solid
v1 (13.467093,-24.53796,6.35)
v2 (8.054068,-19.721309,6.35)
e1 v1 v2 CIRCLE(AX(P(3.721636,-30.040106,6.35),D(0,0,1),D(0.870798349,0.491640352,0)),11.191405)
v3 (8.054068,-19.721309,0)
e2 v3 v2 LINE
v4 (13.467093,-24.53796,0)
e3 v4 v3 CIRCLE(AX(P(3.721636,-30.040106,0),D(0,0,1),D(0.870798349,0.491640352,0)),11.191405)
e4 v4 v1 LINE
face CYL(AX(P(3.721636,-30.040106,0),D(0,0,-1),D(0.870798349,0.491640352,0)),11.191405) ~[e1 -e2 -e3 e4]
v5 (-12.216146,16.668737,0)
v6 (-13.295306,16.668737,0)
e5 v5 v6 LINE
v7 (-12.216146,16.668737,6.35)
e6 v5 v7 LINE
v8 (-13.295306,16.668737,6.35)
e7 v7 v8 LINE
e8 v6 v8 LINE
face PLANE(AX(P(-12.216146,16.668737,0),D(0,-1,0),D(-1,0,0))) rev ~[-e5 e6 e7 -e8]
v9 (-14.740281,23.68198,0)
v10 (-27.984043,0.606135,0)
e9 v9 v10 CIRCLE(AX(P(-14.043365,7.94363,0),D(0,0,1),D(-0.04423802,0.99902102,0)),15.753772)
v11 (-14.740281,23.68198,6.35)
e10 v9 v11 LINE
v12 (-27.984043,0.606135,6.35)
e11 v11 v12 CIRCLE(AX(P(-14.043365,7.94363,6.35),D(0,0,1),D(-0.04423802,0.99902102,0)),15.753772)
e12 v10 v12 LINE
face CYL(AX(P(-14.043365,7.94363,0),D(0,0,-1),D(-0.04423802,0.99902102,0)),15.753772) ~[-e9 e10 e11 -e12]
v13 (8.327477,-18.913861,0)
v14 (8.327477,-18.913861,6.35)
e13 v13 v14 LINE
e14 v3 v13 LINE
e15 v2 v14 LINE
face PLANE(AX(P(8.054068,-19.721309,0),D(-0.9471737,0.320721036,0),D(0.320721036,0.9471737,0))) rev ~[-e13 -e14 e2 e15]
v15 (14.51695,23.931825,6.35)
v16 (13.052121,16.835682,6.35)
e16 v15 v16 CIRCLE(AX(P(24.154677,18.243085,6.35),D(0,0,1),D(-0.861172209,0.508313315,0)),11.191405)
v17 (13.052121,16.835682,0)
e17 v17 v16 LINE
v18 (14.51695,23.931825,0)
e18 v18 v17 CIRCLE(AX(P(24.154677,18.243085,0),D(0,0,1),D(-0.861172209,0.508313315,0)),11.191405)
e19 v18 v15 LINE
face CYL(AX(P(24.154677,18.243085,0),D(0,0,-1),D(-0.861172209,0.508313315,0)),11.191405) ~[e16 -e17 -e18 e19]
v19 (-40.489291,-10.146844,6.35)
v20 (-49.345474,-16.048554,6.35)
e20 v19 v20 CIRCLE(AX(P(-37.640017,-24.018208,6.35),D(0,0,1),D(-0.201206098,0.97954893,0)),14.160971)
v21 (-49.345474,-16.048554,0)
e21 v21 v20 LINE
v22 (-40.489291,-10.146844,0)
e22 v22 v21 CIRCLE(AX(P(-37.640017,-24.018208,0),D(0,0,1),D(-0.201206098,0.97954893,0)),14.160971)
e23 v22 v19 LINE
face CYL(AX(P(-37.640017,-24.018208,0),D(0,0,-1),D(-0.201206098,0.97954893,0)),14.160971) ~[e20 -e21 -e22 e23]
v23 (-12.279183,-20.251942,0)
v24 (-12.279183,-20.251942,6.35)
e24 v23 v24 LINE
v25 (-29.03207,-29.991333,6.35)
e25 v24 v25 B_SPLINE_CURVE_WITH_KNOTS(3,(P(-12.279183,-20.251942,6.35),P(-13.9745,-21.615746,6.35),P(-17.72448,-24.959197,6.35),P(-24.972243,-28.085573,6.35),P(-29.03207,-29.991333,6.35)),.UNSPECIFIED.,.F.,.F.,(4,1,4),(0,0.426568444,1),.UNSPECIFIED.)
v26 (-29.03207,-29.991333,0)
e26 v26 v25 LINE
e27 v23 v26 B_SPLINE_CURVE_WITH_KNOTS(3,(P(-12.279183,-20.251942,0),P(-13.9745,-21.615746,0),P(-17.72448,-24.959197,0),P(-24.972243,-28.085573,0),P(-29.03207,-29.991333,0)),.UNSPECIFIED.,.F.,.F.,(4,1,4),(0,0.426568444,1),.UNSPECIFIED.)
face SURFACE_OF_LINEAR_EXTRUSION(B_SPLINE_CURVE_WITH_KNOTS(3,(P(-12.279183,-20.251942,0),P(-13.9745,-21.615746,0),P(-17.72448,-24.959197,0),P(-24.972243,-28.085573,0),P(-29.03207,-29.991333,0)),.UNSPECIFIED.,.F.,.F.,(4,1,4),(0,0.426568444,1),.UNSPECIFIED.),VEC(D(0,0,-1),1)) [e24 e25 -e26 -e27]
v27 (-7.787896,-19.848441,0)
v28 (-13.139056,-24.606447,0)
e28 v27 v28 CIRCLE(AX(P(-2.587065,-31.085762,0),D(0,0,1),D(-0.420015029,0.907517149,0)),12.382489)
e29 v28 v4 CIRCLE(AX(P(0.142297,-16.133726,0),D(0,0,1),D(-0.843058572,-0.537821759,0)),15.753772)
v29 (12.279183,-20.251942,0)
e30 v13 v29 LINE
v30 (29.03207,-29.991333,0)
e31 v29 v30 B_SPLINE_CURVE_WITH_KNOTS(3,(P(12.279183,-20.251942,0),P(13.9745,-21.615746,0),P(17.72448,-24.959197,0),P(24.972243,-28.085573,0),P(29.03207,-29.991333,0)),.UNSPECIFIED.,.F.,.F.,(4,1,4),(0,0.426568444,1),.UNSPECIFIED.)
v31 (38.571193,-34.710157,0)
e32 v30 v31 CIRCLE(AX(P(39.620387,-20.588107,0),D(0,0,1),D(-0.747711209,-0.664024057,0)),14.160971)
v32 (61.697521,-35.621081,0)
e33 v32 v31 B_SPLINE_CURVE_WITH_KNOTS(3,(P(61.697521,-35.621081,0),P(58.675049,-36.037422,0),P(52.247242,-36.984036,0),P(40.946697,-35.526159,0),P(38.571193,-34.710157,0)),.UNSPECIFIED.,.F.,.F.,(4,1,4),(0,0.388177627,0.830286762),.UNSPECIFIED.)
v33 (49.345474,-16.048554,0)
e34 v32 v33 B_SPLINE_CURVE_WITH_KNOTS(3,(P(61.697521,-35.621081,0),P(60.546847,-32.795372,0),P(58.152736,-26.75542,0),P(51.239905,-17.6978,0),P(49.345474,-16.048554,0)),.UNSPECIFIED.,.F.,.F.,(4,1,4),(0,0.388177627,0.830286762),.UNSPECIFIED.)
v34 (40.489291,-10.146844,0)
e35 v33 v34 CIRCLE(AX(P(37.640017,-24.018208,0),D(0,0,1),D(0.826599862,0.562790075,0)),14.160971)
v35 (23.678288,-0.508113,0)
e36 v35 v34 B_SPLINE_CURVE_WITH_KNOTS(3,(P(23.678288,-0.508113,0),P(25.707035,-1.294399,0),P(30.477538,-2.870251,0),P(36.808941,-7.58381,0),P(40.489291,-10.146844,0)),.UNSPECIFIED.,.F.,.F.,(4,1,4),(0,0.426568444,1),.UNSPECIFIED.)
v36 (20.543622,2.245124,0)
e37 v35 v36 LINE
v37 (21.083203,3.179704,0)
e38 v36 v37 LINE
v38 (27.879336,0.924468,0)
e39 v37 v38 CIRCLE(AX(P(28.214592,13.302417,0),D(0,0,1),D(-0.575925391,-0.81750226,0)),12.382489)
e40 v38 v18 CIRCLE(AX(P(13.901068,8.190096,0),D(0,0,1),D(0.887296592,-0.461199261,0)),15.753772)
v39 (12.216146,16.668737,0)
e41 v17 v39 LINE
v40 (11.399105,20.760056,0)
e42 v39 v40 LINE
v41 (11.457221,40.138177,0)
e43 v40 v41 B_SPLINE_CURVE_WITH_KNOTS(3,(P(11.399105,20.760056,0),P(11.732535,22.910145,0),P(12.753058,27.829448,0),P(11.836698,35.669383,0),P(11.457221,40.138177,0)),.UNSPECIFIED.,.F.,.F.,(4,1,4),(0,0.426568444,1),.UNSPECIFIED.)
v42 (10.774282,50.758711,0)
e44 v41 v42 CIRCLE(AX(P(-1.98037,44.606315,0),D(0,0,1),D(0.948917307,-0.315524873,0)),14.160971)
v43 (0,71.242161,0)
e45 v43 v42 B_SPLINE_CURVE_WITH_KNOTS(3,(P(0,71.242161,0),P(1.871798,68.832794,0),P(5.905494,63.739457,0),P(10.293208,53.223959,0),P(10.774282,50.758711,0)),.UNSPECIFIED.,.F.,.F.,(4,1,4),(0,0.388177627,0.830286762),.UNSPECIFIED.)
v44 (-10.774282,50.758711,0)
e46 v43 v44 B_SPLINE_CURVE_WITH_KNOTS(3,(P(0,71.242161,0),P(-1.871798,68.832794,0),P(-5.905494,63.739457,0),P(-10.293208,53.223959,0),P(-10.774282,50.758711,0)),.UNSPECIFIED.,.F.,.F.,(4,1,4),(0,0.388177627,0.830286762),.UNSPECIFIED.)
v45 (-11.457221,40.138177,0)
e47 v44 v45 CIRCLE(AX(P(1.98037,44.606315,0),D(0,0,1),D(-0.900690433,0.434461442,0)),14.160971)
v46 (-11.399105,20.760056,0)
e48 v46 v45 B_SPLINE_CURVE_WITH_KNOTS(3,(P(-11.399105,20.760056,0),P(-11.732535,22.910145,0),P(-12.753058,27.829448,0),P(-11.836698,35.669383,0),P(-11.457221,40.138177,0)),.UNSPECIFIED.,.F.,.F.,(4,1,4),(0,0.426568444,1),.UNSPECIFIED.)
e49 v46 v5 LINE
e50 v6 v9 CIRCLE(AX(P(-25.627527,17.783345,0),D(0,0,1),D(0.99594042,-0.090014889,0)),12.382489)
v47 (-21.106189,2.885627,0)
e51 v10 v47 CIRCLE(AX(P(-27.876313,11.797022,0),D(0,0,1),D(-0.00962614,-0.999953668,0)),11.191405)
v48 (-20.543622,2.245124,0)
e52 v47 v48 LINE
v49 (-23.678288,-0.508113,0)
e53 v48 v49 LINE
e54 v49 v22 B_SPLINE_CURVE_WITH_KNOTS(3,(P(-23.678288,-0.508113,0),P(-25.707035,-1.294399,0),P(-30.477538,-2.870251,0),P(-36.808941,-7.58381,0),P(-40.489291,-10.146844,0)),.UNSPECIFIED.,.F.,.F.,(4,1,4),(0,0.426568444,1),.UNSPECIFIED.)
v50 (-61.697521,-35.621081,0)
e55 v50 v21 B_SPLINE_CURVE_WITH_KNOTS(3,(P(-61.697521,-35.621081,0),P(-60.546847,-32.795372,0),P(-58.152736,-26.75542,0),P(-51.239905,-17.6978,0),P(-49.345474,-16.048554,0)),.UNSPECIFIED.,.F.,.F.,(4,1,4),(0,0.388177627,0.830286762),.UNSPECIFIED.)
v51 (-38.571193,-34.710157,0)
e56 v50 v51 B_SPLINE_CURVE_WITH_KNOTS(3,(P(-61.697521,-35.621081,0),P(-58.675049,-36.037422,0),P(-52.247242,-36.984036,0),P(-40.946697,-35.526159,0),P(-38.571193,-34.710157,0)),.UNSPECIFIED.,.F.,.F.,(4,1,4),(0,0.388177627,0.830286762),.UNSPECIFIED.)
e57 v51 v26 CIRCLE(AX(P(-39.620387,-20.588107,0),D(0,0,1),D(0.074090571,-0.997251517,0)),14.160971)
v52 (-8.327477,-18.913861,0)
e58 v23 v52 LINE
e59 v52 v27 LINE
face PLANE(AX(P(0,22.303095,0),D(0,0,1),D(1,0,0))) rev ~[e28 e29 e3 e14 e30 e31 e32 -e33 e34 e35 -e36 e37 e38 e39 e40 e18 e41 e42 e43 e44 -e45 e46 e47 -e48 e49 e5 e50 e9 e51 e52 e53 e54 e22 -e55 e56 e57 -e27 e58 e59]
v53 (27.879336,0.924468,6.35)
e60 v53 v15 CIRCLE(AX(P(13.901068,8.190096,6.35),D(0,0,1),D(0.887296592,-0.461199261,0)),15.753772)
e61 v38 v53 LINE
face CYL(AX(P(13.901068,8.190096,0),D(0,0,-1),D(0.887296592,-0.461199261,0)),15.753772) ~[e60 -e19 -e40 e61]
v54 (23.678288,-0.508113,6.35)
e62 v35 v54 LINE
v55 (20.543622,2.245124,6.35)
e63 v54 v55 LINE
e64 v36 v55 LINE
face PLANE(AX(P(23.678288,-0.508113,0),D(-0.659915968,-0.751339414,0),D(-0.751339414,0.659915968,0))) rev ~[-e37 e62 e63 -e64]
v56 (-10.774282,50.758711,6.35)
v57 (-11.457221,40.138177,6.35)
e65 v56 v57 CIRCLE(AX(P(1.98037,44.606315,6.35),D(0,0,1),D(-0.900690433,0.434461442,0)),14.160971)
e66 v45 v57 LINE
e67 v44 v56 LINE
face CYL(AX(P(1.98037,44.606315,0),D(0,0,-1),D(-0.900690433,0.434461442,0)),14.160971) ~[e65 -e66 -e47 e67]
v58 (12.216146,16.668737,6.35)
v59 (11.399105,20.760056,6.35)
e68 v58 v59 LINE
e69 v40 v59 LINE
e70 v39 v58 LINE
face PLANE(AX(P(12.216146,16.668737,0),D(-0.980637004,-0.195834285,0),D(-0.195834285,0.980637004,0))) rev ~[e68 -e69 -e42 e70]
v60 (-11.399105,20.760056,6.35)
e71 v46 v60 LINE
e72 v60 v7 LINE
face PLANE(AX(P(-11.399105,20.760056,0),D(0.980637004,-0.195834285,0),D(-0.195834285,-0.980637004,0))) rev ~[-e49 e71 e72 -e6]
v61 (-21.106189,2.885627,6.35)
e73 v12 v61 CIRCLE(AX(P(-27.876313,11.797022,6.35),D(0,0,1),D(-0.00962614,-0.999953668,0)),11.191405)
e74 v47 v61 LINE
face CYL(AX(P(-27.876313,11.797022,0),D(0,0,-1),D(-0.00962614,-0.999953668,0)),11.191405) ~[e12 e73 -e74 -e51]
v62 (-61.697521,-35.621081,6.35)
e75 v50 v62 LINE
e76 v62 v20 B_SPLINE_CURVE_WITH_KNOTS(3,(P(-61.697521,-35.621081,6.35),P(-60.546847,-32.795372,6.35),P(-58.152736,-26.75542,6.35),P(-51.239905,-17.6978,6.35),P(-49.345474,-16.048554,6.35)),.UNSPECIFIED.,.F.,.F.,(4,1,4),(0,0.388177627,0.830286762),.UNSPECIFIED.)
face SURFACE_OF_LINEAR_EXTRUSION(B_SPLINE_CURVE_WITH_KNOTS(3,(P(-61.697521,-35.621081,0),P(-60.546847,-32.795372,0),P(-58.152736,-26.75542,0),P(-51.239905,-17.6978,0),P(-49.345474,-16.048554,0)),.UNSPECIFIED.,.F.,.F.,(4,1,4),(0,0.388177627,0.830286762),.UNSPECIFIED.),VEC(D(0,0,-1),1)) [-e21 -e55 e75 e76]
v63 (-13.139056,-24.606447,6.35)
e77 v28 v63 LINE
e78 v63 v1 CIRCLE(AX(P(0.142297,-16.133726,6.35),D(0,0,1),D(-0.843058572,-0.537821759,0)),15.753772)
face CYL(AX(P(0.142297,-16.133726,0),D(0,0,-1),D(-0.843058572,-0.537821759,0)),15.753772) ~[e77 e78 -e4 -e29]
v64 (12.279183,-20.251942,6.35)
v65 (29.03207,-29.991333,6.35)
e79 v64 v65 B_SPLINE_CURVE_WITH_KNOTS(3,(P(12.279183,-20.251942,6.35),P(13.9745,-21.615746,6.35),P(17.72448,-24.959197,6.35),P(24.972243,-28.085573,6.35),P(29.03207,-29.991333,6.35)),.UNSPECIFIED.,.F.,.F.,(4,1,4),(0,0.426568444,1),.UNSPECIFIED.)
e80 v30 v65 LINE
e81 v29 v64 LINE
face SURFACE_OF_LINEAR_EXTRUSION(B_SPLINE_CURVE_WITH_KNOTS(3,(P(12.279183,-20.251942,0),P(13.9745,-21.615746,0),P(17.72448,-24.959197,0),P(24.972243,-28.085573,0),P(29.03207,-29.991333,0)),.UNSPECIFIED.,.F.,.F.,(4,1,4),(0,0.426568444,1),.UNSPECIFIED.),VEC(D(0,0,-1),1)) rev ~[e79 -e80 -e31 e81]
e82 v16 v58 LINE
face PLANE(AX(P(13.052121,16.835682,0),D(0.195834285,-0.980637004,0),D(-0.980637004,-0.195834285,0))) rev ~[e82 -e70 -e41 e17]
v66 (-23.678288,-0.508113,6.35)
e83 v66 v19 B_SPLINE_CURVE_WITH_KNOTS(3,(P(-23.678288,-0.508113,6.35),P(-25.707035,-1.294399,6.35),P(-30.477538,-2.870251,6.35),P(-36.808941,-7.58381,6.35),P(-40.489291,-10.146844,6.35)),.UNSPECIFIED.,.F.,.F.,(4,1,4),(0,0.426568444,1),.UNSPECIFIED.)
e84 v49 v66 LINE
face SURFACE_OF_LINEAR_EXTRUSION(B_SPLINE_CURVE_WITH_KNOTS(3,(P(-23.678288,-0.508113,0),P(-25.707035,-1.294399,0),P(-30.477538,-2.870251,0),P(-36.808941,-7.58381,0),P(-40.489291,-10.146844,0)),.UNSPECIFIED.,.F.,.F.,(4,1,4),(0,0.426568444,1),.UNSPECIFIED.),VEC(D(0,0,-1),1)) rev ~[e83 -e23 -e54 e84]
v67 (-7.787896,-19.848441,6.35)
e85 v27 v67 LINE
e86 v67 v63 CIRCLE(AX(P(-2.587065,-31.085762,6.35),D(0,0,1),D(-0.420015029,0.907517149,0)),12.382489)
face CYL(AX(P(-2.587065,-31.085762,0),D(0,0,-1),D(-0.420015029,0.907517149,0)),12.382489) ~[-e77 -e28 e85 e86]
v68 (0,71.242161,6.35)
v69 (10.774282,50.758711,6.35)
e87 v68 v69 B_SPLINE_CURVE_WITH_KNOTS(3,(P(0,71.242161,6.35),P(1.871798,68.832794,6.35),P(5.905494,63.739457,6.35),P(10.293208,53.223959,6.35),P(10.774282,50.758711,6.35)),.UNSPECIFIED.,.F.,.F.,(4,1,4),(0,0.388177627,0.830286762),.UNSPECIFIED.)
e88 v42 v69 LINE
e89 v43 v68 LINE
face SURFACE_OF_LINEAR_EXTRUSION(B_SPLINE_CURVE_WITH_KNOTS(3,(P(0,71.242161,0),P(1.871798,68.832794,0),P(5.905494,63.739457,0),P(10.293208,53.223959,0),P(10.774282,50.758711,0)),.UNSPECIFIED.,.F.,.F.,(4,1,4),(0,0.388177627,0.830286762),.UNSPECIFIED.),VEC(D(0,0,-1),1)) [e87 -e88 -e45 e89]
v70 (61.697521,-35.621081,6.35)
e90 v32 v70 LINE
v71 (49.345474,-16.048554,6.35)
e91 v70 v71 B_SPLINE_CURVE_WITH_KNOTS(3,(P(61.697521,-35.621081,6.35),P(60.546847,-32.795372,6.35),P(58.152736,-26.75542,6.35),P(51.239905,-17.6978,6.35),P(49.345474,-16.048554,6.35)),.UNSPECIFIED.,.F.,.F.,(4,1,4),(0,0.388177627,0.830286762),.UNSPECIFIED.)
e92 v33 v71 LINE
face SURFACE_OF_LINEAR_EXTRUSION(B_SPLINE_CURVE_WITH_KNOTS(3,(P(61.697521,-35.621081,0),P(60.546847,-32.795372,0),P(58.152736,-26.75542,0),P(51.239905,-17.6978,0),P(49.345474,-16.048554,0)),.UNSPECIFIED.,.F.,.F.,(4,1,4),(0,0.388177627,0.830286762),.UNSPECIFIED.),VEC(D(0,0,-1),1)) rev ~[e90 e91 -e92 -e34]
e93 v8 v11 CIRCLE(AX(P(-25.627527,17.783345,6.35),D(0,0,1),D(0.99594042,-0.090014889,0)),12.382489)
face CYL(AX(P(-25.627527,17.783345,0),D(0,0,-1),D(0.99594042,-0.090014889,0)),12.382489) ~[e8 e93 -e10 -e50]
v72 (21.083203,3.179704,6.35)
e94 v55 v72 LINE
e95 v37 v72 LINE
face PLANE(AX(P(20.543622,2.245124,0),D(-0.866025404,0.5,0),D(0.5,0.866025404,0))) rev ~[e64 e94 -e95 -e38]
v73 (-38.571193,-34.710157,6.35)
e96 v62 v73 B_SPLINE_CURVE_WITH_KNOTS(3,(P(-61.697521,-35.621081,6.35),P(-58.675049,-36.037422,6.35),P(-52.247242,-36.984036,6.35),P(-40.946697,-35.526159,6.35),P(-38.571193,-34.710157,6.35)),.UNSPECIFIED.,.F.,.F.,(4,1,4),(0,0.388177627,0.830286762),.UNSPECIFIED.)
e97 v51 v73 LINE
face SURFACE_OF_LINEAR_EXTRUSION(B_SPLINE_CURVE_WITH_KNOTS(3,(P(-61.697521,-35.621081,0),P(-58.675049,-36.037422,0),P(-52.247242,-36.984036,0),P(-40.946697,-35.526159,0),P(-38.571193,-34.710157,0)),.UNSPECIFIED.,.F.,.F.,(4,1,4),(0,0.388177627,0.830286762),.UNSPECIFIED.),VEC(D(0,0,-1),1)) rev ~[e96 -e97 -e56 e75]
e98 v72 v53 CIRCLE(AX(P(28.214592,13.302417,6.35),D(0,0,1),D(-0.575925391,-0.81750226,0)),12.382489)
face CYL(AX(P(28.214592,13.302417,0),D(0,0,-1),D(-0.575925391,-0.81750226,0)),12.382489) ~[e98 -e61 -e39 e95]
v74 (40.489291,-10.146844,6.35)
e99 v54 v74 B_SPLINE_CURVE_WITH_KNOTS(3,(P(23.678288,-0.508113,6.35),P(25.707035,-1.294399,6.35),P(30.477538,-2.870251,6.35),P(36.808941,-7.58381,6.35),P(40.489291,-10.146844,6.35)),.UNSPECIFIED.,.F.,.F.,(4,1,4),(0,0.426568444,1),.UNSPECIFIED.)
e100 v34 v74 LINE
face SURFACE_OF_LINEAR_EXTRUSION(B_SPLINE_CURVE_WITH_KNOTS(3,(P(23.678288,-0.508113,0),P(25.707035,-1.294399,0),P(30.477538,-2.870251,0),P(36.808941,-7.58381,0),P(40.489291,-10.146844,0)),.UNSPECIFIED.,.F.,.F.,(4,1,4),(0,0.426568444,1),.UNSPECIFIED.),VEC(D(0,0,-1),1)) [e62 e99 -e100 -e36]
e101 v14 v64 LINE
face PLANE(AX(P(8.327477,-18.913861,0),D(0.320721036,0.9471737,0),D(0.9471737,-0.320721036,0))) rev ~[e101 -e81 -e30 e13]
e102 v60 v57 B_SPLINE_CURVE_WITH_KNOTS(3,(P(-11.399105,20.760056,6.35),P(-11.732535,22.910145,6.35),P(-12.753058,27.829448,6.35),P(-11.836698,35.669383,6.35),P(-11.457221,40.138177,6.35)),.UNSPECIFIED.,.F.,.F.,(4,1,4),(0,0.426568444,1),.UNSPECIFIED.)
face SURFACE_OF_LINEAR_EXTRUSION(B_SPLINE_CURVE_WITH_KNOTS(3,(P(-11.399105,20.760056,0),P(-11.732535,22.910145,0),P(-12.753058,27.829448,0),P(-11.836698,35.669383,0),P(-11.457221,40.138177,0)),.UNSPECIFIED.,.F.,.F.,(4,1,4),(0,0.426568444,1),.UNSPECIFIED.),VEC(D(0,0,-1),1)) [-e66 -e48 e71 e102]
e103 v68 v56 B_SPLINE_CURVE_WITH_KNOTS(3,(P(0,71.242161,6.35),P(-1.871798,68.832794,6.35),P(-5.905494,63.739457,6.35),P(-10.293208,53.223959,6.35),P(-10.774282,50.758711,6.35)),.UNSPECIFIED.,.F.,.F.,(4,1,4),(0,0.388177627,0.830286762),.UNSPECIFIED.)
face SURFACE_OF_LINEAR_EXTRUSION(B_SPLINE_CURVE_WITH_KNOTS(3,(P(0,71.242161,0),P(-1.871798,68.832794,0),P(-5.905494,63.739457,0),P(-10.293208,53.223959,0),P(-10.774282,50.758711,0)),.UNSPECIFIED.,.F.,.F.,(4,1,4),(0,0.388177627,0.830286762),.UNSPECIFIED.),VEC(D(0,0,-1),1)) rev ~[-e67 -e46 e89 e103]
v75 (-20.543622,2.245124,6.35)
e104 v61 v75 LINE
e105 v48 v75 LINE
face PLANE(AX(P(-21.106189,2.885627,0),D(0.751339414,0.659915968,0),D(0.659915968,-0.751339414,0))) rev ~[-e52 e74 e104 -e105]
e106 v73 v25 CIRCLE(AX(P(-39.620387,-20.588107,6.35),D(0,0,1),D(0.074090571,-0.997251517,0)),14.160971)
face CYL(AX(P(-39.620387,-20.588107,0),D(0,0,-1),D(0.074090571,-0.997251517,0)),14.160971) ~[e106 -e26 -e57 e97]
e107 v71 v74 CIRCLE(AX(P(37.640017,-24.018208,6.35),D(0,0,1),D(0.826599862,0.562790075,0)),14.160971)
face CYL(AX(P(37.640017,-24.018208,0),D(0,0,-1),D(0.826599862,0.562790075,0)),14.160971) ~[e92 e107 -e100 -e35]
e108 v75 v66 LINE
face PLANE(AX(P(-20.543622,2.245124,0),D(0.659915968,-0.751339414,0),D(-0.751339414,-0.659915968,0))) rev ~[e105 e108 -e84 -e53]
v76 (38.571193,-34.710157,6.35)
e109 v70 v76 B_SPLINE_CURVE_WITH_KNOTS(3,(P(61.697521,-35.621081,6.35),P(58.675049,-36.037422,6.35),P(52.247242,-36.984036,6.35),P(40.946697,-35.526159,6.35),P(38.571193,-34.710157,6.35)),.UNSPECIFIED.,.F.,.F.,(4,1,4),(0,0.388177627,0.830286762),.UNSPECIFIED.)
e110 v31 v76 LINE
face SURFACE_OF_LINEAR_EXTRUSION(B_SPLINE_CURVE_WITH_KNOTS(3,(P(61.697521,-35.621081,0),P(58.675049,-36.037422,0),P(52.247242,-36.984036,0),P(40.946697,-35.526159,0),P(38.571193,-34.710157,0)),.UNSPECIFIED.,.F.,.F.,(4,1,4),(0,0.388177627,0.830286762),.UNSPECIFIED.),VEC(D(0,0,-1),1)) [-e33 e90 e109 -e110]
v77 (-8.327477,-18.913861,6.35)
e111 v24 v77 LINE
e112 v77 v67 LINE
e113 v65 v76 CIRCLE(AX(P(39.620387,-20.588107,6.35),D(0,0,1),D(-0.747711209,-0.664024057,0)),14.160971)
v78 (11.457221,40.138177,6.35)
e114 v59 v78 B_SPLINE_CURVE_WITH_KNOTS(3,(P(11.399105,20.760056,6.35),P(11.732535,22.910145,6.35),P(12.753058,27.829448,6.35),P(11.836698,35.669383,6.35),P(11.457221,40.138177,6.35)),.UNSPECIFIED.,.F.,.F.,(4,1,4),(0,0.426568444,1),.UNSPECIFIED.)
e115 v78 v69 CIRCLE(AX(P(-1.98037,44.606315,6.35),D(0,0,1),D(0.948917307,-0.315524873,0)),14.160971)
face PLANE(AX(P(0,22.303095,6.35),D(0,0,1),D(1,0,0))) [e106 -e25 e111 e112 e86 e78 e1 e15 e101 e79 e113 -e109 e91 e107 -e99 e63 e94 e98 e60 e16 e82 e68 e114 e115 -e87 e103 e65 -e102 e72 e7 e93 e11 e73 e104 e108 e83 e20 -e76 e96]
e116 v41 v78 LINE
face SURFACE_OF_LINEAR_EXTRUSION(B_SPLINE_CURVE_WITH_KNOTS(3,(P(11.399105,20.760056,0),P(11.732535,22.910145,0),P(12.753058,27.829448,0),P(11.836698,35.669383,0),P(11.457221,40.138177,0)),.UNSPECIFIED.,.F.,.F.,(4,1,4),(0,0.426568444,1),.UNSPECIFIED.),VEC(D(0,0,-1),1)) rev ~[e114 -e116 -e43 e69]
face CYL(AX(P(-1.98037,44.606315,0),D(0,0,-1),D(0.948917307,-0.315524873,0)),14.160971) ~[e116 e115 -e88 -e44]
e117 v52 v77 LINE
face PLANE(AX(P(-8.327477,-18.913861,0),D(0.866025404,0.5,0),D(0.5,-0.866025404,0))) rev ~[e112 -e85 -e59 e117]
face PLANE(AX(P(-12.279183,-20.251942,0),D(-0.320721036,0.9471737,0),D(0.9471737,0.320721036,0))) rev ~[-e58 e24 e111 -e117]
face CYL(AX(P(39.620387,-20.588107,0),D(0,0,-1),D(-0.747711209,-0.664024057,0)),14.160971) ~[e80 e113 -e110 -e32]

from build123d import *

# Parameters (mm, degrees)
F1_DEPTH = 6.35


with BuildPart() as f1:
    # F0 (on Top) → F1 (new body)
    with BuildSketch(Plane.XY):
        with BuildLine():
            add(Edge.make_bspline(
                [(0, 71.2421610951), (-1.8717980289, 68.832793782), (-5.9054940485, 63.7394567312), (-10.2932083579, 53.2239591481), (-10.7742816294, 50.7587112719)],
                knots=[0, 0, 0, 0, 0.3881776272, 0.8302867615, 0.8302867615, 0.8302867615, 0.8302867615], degree=3))
            ThreePointArc((-10.7742816294, 50.7587112719), (-12.151414509, 45.5150408691), (-11.4572210078, 40.1381765744))
            add(Edge.make_bspline(
                [(-11.3991048065, 20.7600555156), (-11.7325351971, 22.9101453469), (-12.7530584769, 27.8294481961), (-11.8366984864, 35.6693833545), (-11.4572210078, 40.1381765744)],
                knots=[0, 0, 0, 0, 0.426568444, 1, 1, 1, 1], degree=3))
            Line((-11.3991048065, 20.7600555156), (-12.216145647, 16.6687367736))
            Line((-12.216145647, 16.6687367736), (-20.5436223185, 2.2451240799))
            Line((-20.5436223185, 2.2451240799), (-8.3274766714, -18.9138608535))
            Line((-8.3274766714, -18.9138608535), (8.3274766714, -18.9138608535))
            Line((8.3274766714, -18.9138608535), (20.5436223185, 2.2451240799))
            Line((20.5436223185, 2.2451240799), (12.216145647, 16.6687367736))
            Line((12.216145647, 16.6687367736), (11.3991048065, 20.7600555156))
            add(Edge.make_bspline(
                [(11.3991048065, 20.7600555156), (11.7325351971, 22.9101453469), (12.7530584769, 27.8294481961), (11.8366984864, 35.6693833545), (11.4572210078, 40.1381765744)],
                knots=[0, 0, 0, 0, 0.426568444, 1, 1, 1, 1], degree=3))
            ThreePointArc((11.4572210078, 40.1381765744), (12.151414509, 45.5150408691), (10.7742816294, 50.7587112719))
            add(Edge.make_bspline(
                [(0, 71.2421610951), (1.8717980289, 68.832793782), (5.9054940485, 63.7394567312), (10.2932083579, 53.2239591481), (10.7742816294, 50.7587112719)],
                knots=[0, 0, 0, 0, 0.3881776272, 0.8302867615, 0.8302867615, 0.8302867615, 0.8302867615], degree=3))
        make_face()
        with BuildLine():
            Line((-20.5436223185, 2.2451240799), (-12.216145647, 16.6687367736))
            Line((-12.216145647, 16.6687367736), (-13.2953060188, 16.6687367736))
            ThreePointArc((-13.2953060188, 16.6687367736), (-13.4997773753, 20.2820878122), (-14.7402806158, 23.6819798654))
            ThreePointArc((-14.7402806158, 23.6819798654), (-27.7067627464, 15.7853712662), (-27.984043385, 0.6061353941))
            ThreePointArc((-27.984043385, 0.6061353941), (-24.3555326782, 1.1738561923), (-21.1061885939, 2.885627169))
            Line((-21.1061885939, 2.885627169), (-20.5436223185, 2.2451240799))
        make_face()
        with BuildLine():
            Line((-8.3274766714, -18.9138608535), (-20.5436223185, 2.2451240799))
            Line((-20.5436223185, 2.2451240799), (-23.6782878637, -0.508113415))
            add(Edge.make_bspline(
                [(-23.6782878637, -0.508113415), (-25.7070354734, -1.294399142), (-30.4775383496, -2.8702514812), (-36.8089413655, -7.5838100911), (-40.4892910789, -10.1468438377)],
                knots=[0, 0, 0, 0, 0.426568444, 1, 1, 1, 1], degree=3))
            ThreePointArc((-40.4892910789, -10.1468438377), (-45.4928889014, -12.2340867779), (-49.3454742395, -16.0485540373))
            add(Edge.make_bspline(
                [(-61.6975213289, -35.6210805476), (-60.5468470431, -32.7953722472), (-58.1527357769, -26.7554204977), (-51.2399048911, -17.6977996497), (-49.3454742395, -16.0485540373)],
                knots=[0, 0, 0, 0, 0.3881776272, 0.8302867615, 0.8302867615, 0.8302867615, 0.8302867615], degree=3))
            add(Edge.make_bspline(
                [(-61.6975213289, -35.6210805476), (-58.6750490142, -36.0374215348), (-52.2472417284, -36.9840362335), (-40.9466965333, -35.5261594984), (-38.5711926101, -34.7101572345)],
                knots=[0, 0, 0, 0, 0.3881776272, 0.8302867615, 0.8302867615, 0.8302867615, 0.8302867615], degree=3))
            ThreePointArc((-38.5711926101, -34.7101572345), (-33.3414743924, -33.2809540912), (-29.0320700711, -29.9913327367))
            add(Edge.make_bspline(
                [(-12.2791830572, -20.2519421006), (-13.9745002763, -21.6157462049), (-17.7244798727, -24.959196715), (-24.9722428792, -28.0855732634), (-29.0320700711, -29.9913327367)],
                knots=[0, 0, 0, 0, 0.426568444, 1, 1, 1, 1], degree=3))
            Line((-12.2791830572, -20.2519421006), (-8.3274766714, -18.9138608535))
        make_face()
        with BuildLine():
            Line((8.3274766714, -18.9138608535), (-8.3274766714, -18.9138608535))
            Line((-8.3274766714, -18.9138608535), (-7.7878964856, -19.8484411502))
            ThreePointArc((-7.7878964856, -19.8484411502), (-10.8149145995, -21.8321940585), (-13.1390558675, -24.6064474049))
            ThreePointArc((-13.1390558675, -24.6064474049), (0.1828488485, -31.8874460281), (13.4670930431, -24.5379601691))
            ThreePointArc((13.4670930431, -24.5379601691), (11.1611770562, -21.6794381182), (8.0540678628, -19.7213090839))
            Line((8.0540678628, -19.7213090839), (8.3274766714, -18.9138608535))
        make_face()
        with BuildLine():
            Line((20.5436223185, 2.2451240799), (8.3274766714, -18.9138608535))
            Line((8.3274766714, -18.9138608535), (12.2791830572, -20.2519421006))
            add(Edge.make_bspline(
                [(12.2791830572, -20.2519421006), (13.9745002763, -21.6157462049), (17.7244798727, -24.959196715), (24.9722428792, -28.0855732634), (29.0320700711, -29.9913327367)],
                knots=[0, 0, 0, 0, 0.426568444, 1, 1, 1, 1], degree=3))
            ThreePointArc((29.0320700711, -29.9913327367), (33.3414743924, -33.2809540912), (38.5711926101, -34.7101572345))
            add(Edge.make_bspline(
                [(61.6975213289, -35.6210805476), (58.6750490142, -36.0374215348), (52.2472417284, -36.9840362335), (40.9466965333, -35.5261594984), (38.5711926101, -34.7101572345)],
                knots=[0, 0, 0, 0, 0.3881776272, 0.8302867615, 0.8302867615, 0.8302867615, 0.8302867615], degree=3))
            add(Edge.make_bspline(
                [(61.6975213289, -35.6210805476), (60.5468470431, -32.7953722472), (58.1527357769, -26.7554204977), (51.2399048911, -17.6977996497), (49.3454742395, -16.0485540373)],
                knots=[0, 0, 0, 0, 0.3881776272, 0.8302867615, 0.8302867615, 0.8302867615, 0.8302867615], degree=3))
            ThreePointArc((49.3454742395, -16.0485540373), (45.4928889014, -12.2340867779), (40.4892910789, -10.1468438377))
            add(Edge.make_bspline(
                [(23.6782878637, -0.508113415), (25.7070354734, -1.294399142), (30.4775383496, -2.8702514812), (36.8089413655, -7.5838100911), (40.4892910789, -10.1468438377)],
                knots=[0, 0, 0, 0, 0.426568444, 1, 1, 1, 1], degree=3))
            Line((23.6782878637, -0.508113415), (20.5436223185, 2.2451240799))
        make_face()
        with BuildLine():
            Line((13.0521207311, 16.8356819149), (12.216145647, 16.6687367736))
            Line((12.216145647, 16.6687367736), (20.5436223185, 2.2451240799))
            Line((20.5436223185, 2.2451240799), (21.0832025044, 3.1797043765))
            ThreePointArc((21.0832025044, 3.1797043765), (24.3146919748, 1.5501062464), (27.8793364832, 0.9244675395))
            ThreePointArc((27.8793364832, 0.9244675395), (27.5239138979, 16.1020747619), (14.516950342, 23.931824775))
            ThreePointArc((14.516950342, 23.931824775), (13.194355622, 20.5055819259), (13.0521207311, 16.8356819149))
        make_face()
    extrude(amount=F1_DEPTH)


solid = f1.part
